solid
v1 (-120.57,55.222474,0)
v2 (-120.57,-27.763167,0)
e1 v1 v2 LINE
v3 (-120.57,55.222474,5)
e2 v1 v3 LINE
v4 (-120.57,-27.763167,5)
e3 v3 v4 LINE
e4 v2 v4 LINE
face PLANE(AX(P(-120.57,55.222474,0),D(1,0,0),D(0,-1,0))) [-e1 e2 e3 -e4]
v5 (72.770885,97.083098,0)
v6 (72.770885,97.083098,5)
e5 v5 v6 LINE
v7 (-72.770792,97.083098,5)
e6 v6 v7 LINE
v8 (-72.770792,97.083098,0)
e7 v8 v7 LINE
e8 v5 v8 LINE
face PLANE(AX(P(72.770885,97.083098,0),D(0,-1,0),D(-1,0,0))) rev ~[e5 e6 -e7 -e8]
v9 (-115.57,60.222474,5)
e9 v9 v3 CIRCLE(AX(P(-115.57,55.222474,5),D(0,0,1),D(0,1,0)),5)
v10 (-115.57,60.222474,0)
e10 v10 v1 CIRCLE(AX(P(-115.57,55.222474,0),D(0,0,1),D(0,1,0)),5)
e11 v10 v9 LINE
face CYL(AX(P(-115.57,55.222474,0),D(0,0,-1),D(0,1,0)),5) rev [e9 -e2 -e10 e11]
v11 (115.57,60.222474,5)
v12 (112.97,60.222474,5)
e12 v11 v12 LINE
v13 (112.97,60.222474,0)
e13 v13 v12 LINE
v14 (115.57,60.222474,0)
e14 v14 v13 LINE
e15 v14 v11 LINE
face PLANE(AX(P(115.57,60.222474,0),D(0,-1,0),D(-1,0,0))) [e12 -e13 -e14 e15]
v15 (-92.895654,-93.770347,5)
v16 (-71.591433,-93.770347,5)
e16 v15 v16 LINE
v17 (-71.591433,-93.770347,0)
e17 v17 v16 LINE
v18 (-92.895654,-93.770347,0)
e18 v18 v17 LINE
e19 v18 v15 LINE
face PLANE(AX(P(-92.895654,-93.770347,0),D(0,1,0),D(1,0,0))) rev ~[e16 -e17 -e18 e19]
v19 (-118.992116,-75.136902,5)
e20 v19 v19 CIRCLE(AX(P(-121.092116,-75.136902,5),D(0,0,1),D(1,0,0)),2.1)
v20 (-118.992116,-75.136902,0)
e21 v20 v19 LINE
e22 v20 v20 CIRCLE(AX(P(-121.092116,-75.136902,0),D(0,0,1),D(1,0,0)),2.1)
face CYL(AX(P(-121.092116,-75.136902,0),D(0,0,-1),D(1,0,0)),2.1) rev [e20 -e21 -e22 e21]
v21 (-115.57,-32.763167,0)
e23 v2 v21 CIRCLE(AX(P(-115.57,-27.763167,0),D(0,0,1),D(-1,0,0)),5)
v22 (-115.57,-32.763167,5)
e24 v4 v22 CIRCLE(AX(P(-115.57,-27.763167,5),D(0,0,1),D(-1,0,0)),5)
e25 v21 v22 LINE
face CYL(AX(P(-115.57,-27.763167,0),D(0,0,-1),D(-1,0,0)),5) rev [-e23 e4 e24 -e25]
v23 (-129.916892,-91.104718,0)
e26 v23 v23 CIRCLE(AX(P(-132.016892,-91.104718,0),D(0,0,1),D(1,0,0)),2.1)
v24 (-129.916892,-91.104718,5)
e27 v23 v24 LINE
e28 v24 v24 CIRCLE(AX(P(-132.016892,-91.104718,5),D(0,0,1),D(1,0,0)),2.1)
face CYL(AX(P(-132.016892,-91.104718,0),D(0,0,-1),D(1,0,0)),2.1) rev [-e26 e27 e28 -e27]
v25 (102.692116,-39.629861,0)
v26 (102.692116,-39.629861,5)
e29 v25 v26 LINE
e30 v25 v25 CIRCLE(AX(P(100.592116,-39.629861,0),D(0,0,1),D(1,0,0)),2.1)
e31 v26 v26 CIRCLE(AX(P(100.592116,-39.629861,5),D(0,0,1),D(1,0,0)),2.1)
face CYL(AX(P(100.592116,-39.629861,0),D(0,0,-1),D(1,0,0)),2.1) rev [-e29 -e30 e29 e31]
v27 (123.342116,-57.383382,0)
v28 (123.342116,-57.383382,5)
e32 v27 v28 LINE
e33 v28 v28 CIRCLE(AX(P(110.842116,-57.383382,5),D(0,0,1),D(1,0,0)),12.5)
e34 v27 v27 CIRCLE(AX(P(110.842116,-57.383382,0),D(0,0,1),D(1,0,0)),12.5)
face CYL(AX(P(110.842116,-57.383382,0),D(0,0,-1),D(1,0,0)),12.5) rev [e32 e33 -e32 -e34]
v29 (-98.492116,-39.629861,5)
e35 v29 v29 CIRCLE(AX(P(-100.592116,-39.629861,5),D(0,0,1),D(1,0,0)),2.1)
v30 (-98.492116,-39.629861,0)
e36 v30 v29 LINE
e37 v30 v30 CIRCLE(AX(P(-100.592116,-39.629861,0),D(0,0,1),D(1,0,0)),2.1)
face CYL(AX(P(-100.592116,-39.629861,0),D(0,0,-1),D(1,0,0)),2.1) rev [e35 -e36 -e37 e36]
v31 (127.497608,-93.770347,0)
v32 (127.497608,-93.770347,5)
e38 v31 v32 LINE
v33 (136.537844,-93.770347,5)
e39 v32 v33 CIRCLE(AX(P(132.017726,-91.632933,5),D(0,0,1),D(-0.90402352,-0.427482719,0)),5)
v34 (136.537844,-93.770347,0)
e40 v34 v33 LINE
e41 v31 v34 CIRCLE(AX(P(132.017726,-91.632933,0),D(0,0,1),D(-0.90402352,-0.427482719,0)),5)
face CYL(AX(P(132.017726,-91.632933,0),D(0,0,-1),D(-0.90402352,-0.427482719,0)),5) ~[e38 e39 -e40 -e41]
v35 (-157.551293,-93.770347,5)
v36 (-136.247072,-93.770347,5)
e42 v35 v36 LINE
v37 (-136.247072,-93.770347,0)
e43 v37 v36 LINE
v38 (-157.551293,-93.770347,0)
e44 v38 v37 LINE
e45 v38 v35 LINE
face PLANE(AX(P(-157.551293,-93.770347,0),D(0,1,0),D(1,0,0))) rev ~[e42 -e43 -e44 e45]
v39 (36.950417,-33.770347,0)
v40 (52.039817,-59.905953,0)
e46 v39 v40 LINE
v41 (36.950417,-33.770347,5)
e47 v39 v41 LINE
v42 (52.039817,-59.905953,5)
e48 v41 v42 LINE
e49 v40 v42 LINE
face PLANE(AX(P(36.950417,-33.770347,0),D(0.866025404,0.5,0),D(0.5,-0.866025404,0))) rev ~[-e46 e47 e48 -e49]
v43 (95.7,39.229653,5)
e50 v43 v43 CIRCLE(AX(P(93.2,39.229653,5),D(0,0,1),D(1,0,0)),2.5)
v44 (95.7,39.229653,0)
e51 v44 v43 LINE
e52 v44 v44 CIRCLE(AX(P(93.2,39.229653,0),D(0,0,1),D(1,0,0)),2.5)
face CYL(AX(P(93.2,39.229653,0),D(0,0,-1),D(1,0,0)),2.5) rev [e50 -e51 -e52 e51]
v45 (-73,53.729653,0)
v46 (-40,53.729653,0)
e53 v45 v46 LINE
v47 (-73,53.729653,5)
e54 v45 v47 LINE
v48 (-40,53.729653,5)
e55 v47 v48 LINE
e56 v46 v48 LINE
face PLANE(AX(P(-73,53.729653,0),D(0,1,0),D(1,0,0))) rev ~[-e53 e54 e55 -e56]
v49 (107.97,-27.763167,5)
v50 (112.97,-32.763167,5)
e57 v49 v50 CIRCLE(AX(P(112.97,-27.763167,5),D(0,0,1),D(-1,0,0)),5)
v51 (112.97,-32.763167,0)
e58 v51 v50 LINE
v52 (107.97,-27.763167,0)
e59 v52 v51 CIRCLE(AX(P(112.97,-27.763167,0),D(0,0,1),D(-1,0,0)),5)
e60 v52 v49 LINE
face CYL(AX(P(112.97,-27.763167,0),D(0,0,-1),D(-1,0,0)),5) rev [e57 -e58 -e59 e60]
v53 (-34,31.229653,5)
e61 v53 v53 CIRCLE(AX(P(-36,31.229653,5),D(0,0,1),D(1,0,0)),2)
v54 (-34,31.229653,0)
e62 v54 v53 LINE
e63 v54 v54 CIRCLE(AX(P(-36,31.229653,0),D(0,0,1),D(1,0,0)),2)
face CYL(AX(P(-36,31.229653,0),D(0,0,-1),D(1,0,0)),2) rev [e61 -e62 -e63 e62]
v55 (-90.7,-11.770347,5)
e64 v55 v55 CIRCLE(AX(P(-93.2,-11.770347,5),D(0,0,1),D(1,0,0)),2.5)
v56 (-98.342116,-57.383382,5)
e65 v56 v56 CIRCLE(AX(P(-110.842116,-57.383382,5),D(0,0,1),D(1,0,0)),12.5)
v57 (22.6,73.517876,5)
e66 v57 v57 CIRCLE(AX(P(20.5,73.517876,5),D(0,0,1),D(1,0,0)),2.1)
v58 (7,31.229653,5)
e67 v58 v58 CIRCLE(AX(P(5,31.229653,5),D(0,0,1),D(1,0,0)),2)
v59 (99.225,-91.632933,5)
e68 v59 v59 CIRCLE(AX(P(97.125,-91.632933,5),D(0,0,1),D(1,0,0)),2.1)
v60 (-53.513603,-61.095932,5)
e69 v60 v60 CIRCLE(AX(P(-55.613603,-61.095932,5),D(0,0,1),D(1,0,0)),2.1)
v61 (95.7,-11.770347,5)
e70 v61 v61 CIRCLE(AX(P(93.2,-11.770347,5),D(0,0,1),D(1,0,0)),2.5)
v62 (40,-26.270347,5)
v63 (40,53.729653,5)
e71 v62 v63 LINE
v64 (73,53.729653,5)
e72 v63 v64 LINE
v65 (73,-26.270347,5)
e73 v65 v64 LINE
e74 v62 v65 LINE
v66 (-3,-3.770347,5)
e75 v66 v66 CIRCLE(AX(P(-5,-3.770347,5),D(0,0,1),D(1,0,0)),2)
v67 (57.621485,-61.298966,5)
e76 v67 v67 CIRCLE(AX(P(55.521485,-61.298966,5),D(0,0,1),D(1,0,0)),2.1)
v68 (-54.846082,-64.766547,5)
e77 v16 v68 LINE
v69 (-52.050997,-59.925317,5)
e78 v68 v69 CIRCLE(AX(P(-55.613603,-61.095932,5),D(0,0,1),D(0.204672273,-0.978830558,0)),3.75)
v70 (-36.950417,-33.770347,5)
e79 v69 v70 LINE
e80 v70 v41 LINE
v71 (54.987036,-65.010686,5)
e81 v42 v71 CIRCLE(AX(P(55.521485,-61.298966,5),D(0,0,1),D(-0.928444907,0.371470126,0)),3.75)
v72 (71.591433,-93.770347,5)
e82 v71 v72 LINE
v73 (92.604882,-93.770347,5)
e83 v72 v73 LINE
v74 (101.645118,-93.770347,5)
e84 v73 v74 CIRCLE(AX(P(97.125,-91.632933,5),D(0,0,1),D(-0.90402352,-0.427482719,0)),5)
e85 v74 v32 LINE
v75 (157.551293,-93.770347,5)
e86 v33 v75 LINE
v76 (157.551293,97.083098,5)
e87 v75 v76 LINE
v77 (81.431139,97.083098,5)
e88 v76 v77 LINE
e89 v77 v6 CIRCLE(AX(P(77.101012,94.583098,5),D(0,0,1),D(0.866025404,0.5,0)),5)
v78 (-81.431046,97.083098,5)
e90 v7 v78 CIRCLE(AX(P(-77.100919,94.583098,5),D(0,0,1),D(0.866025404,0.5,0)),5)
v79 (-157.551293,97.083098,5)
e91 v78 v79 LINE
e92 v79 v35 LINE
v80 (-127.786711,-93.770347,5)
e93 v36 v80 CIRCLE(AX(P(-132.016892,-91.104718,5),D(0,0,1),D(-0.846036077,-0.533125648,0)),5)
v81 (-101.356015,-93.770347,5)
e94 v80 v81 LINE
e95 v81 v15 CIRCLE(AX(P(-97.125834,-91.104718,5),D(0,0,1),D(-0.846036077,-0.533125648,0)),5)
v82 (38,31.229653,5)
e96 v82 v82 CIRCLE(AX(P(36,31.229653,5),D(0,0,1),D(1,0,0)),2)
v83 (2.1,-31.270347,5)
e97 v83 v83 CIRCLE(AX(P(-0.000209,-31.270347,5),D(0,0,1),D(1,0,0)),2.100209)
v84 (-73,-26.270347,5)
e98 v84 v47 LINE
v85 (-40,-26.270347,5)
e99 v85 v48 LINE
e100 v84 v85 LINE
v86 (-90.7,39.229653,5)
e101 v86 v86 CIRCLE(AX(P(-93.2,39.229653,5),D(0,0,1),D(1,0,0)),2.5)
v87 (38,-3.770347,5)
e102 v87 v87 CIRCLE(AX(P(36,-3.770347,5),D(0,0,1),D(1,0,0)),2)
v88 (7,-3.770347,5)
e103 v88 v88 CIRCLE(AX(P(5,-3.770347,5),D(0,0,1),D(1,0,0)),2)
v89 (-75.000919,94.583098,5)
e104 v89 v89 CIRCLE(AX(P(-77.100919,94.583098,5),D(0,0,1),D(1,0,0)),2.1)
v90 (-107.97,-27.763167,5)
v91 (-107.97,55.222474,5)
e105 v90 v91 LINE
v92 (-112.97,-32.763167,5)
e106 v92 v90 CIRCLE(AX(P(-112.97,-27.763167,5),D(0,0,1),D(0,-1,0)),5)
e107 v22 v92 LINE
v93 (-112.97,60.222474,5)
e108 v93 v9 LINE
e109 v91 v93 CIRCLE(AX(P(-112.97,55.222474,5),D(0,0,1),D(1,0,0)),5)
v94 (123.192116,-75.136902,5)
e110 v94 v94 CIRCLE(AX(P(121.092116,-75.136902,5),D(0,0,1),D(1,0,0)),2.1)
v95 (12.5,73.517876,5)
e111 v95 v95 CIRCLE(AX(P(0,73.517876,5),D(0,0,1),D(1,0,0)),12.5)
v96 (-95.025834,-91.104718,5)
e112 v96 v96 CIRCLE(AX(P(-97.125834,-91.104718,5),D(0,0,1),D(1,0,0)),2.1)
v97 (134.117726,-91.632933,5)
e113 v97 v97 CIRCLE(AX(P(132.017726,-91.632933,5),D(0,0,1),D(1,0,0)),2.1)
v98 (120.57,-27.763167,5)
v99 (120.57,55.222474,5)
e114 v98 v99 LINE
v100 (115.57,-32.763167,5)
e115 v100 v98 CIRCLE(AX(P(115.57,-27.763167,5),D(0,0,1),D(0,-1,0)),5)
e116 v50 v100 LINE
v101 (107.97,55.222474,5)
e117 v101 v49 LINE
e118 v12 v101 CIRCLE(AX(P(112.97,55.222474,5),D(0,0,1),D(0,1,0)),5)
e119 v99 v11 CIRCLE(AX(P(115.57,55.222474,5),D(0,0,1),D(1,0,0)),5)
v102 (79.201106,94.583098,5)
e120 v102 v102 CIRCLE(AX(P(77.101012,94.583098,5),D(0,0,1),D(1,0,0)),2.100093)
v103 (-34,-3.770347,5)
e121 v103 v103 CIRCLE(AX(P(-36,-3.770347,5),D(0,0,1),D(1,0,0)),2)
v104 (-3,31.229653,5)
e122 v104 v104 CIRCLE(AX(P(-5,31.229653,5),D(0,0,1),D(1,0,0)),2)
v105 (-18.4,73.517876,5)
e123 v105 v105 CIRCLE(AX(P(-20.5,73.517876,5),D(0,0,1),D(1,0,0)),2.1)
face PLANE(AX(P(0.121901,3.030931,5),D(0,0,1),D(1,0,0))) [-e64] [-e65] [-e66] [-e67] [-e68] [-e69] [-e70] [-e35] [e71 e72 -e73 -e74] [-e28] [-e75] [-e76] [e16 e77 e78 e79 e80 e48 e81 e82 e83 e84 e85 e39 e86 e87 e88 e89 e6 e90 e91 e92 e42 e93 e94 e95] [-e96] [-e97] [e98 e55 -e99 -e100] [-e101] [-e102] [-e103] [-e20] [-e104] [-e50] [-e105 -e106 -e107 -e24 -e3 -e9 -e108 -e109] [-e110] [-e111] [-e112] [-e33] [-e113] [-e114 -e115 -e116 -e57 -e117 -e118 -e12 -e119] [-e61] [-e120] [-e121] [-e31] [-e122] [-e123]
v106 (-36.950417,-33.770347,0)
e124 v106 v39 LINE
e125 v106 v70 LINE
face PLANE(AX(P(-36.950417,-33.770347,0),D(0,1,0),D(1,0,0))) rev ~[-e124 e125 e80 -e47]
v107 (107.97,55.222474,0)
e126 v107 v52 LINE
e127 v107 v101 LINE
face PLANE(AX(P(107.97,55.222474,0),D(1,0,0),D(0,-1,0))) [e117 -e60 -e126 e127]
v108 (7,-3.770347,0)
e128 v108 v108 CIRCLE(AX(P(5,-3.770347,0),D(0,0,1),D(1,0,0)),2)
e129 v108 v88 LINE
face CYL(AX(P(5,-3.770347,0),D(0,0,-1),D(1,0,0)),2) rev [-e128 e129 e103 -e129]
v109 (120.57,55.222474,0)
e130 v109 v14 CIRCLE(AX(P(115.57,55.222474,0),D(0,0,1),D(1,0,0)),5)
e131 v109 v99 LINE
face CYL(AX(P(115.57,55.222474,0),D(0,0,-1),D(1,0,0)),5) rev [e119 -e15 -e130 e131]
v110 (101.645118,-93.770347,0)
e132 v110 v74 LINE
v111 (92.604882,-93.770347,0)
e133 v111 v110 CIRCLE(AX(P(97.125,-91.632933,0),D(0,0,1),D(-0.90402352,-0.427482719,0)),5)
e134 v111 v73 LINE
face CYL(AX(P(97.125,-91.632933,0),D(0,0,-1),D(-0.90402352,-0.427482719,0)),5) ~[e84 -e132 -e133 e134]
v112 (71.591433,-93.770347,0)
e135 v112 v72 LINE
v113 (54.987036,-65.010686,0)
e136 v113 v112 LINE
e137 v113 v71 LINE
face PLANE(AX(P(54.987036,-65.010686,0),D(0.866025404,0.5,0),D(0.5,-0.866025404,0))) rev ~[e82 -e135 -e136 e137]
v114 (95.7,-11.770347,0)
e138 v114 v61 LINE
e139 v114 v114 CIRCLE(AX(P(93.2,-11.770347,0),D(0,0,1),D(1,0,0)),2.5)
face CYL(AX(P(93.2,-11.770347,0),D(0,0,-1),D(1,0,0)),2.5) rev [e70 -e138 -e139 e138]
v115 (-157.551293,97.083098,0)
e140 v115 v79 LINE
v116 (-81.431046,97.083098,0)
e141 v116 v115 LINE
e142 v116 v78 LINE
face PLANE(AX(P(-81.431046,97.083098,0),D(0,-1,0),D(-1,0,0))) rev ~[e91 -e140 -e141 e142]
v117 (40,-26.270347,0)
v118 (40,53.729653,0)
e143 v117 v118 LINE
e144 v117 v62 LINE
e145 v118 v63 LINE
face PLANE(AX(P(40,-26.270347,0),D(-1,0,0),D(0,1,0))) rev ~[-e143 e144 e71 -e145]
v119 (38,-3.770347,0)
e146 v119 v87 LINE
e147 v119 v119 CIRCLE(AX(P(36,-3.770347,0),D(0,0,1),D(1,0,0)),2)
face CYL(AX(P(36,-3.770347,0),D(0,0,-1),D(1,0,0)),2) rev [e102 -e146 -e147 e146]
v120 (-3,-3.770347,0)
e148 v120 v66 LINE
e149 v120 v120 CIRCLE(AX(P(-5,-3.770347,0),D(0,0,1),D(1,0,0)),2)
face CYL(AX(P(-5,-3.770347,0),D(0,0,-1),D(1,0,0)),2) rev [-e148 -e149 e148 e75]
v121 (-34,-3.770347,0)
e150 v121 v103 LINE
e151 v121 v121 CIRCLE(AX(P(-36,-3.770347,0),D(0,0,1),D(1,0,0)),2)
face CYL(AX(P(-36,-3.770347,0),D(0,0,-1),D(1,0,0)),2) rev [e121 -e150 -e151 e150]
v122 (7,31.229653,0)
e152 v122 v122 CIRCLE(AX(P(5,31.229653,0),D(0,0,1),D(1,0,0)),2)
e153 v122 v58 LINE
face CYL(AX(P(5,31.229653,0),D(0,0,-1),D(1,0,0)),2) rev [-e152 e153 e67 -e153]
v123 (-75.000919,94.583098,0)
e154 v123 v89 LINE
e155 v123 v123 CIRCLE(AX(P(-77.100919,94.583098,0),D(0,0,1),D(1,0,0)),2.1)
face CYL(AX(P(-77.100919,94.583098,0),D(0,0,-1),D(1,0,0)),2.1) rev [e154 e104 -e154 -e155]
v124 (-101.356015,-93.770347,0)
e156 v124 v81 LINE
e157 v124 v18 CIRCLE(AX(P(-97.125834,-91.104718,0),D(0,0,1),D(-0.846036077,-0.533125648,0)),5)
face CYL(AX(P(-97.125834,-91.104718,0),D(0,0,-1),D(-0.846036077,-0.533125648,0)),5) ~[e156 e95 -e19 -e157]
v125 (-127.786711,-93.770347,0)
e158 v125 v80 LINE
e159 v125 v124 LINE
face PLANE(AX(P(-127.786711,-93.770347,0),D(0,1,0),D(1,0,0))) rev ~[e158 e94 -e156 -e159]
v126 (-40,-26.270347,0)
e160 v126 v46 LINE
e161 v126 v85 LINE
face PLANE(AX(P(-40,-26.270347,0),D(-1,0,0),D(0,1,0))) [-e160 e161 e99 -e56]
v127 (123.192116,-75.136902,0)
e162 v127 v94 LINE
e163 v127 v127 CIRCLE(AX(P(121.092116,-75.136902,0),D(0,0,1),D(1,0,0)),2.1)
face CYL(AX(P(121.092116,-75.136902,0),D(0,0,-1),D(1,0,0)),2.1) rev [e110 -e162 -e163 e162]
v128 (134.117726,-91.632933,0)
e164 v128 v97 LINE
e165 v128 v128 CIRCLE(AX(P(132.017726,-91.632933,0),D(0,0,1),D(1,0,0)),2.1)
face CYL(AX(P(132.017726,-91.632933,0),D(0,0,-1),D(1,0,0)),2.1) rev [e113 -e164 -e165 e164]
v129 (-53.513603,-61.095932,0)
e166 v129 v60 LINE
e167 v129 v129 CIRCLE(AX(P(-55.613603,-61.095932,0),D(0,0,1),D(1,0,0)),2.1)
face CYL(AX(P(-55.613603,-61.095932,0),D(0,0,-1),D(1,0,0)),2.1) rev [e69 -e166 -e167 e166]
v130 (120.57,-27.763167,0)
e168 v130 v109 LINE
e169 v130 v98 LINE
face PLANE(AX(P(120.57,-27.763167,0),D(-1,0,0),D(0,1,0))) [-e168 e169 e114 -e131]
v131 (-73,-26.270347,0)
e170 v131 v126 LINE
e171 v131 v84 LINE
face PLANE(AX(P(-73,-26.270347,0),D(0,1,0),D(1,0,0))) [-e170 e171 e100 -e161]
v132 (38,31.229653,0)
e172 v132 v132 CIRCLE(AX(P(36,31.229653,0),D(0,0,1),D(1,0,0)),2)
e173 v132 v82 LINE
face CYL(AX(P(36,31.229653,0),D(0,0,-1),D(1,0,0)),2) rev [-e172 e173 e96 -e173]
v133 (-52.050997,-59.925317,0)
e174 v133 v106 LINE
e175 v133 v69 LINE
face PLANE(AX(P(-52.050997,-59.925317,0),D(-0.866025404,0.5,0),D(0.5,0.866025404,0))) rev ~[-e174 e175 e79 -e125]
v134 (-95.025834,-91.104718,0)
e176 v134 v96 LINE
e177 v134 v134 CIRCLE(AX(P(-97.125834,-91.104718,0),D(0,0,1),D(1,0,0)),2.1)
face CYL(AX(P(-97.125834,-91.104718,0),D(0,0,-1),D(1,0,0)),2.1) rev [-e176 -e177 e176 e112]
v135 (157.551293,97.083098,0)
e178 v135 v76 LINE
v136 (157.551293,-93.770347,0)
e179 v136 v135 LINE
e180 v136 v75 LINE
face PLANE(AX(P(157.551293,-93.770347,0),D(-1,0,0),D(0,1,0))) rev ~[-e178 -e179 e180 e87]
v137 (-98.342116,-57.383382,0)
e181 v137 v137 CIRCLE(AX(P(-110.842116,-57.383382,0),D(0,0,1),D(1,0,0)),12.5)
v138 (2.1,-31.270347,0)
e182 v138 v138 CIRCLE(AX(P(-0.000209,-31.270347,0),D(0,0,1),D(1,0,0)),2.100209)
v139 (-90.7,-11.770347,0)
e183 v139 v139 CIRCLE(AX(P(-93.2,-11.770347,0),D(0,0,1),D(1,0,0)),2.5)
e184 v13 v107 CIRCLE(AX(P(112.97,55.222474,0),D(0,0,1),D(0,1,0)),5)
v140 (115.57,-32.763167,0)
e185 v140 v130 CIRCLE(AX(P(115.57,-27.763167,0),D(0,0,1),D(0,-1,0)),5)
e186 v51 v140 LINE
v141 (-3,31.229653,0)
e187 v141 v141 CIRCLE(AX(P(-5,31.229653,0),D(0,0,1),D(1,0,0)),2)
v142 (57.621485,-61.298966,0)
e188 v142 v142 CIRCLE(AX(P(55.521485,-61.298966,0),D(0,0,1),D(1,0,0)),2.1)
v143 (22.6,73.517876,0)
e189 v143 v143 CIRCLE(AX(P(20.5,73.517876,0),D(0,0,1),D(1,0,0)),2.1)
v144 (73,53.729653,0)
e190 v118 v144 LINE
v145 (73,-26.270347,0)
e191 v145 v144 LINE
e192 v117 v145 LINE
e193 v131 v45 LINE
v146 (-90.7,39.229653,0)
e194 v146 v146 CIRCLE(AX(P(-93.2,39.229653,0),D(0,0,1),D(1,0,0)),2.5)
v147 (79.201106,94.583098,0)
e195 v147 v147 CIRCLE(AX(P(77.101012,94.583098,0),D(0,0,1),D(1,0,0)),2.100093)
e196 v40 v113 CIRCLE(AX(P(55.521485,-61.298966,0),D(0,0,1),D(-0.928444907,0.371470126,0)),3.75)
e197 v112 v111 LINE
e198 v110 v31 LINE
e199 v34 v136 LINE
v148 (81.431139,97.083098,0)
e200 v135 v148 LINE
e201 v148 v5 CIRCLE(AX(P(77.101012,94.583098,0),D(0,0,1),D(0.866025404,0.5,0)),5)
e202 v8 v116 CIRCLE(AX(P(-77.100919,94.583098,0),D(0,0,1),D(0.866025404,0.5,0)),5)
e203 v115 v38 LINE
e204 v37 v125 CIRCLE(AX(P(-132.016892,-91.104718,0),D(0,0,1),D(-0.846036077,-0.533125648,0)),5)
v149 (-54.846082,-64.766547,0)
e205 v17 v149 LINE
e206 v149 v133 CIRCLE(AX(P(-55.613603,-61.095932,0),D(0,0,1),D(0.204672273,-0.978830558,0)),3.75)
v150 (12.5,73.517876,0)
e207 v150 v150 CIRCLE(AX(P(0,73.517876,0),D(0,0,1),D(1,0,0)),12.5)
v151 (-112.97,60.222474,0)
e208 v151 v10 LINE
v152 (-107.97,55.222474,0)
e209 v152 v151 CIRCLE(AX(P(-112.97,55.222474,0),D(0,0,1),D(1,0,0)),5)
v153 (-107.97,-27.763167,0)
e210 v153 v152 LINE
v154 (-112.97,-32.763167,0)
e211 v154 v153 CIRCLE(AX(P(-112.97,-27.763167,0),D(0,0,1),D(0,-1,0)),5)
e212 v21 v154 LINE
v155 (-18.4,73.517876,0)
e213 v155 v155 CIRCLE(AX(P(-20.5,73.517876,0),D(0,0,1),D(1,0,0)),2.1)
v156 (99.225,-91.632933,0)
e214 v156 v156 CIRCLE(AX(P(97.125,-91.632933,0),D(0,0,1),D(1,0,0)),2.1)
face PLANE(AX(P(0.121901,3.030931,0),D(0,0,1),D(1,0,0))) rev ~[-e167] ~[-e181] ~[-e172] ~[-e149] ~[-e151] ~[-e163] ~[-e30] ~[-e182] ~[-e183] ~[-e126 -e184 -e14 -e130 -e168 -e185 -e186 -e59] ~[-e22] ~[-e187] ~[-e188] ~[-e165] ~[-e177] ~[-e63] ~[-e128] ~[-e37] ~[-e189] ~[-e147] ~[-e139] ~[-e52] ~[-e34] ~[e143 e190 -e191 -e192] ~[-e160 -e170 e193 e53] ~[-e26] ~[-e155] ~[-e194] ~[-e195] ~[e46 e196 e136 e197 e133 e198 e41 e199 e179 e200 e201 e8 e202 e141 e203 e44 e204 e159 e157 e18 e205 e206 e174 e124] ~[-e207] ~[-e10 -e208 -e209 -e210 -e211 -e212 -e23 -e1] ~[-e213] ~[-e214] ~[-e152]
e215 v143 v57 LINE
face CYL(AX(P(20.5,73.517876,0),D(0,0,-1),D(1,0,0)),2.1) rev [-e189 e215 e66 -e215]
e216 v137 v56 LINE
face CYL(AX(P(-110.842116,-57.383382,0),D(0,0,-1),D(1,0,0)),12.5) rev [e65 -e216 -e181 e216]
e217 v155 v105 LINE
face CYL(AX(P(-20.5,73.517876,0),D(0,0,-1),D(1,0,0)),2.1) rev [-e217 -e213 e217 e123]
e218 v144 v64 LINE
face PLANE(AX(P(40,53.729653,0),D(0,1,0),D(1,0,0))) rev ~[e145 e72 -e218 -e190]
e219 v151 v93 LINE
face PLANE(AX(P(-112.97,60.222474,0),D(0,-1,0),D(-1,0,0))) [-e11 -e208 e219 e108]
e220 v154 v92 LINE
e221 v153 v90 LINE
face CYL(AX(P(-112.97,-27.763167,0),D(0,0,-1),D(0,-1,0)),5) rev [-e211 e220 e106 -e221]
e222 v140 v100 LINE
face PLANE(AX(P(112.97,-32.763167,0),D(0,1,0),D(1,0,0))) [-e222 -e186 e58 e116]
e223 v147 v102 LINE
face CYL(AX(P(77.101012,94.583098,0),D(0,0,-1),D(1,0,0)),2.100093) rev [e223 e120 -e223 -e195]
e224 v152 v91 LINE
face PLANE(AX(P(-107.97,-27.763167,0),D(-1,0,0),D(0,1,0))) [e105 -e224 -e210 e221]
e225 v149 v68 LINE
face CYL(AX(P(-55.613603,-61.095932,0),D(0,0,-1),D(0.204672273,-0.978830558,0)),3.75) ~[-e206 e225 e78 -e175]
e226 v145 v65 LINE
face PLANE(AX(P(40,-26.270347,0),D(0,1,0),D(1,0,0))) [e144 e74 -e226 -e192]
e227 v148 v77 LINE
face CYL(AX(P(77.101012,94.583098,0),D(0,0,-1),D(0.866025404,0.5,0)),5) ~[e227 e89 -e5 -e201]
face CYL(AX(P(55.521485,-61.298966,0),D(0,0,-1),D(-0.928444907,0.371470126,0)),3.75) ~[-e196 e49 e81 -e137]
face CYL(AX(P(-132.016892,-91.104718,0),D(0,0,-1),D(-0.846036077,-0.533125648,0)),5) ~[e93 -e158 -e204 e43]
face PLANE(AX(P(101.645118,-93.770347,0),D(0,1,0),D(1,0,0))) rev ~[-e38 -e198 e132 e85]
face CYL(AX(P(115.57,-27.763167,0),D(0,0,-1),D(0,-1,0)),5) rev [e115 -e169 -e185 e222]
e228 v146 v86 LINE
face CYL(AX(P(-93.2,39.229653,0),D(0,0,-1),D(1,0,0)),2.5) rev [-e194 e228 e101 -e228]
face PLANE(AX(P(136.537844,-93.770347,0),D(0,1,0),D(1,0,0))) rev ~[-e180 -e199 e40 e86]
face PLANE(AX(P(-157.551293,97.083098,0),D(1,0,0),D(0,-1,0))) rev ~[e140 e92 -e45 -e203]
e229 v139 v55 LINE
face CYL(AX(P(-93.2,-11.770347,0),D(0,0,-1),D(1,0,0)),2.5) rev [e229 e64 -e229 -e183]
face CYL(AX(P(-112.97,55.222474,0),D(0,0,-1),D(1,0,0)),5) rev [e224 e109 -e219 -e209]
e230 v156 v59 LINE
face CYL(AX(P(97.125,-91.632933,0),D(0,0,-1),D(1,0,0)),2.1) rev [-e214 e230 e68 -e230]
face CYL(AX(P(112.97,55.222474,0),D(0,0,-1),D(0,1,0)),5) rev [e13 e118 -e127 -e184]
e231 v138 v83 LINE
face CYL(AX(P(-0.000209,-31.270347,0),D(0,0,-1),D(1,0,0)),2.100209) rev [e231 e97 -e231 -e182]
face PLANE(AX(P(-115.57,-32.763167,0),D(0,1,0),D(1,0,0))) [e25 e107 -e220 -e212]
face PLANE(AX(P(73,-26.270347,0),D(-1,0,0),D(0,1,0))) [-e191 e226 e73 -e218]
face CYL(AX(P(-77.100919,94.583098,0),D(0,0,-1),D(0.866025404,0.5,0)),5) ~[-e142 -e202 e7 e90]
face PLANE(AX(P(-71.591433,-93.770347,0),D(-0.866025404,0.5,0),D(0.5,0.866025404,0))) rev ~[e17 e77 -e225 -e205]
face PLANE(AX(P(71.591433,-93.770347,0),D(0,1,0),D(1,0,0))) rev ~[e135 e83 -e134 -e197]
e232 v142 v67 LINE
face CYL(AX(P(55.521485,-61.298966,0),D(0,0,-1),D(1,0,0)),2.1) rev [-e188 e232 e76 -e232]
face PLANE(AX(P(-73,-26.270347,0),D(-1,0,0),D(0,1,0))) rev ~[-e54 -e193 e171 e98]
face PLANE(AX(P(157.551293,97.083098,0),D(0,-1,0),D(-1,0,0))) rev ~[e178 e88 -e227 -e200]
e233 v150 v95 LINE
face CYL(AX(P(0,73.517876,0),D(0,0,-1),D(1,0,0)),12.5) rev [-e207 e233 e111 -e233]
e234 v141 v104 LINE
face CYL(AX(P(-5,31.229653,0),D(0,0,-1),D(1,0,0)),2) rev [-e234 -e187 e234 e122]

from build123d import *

# Parameters (mm, degrees)
SKETCH1_R           = 2.1
SKETCH1_R_2         = 12.5
SKETCH1_R_3         = 2
SKETCH1_R_4         = 2.5
SKETCH1_R_5         = 2.100093489
SKETCH1_R_6         = 2.100208614
SKETCH1_W           = 33
SKETCH1_H           = 80
BOSS_EXTRUDE1_DEPTH = 5


with BuildPart() as part:
    # Sketch1 → Boss-Extrude1 (new body)
    with BuildSketch(Plane.XY):
        with BuildLine():
            Line((101.645117601, -93.770346549), (127.497608455, -93.770346549))
            ThreePointArc((127.497608455, -93.770346549), (132.017726056, -96.632932955), (136.537843658, -93.770346549))
            Line((136.537843658, -93.770346549), (157.551292677, -93.770346549))
            Line((157.551292677, -93.770346549), (157.551292677, 97.083097938))
            Line((157.551292677, 97.083097938), (81.43113923, 97.083097938))
            ThreePointArc((81.43113923, 97.083097938), (77.101012211, 99.583097938), (72.770885192, 97.083097938))
            Line((72.770885192, 97.083097938), (36.650918722, 97.083097938))
            Line((36.650918722, 97.083097938), (-36.650918722, 97.083097938))
            Line((-36.650918722, 97.083097938), (-72.770791704, 97.083097938))
            ThreePointArc((-72.770791704, 97.083097938), (-77.100918722, 99.583097938), (-81.431045741, 97.083097938))
            Line((-81.431045741, 97.083097938), (-157.551292677, 97.083097938))
            Line((-157.551292677, 97.083097938), (-157.551292677, -93.770346549))
            Line((-157.551292677, -93.770346549), (-136.247071986, -93.770346549))
            ThreePointArc((-136.247071986, -93.770346549), (-132.0168916, -96.104718311), (-127.786711214, -93.770346549))
            Line((-127.786711214, -93.770346549), (-101.356014842, -93.770346549))
            ThreePointArc((-101.356014842, -93.770346549), (-97.125834456, -96.104718311), (-92.89565407, -93.770346549))
            Line((-92.89565407, -93.770346549), (-71.59143338, -93.770346549))
            Line((-71.59143338, -93.770346549), (-54.846081626, -64.766546521))
            ThreePointArc((-54.846081626, -64.766546521), (-52.366007385, -62.970931929), (-52.050996654, -59.925317338))
            Line((-52.050996654, -59.925317338), (-36.950417228, -33.770346549))
            Line((-36.950417228, -33.770346549), (36.950417228, -33.770346549))
            Line((36.950417228, -33.770346549), (52.039816857, -59.905953361))
            ThreePointArc((52.039816857, -59.905953361), (52.273889994, -63.173966334), (54.987035679, -65.010686103))
            Line((54.987035679, -65.010686103), (71.59143338, -93.770346549))
            Line((71.59143338, -93.770346549), (92.604882399, -93.770346549))
            ThreePointArc((92.604882399, -93.770346549), (97.125, -96.632932955), (101.645117601, -93.770346549))
        make_face()
        with Locations((20.5, 73.517875823)):
            Circle(SKETCH1_R, mode=Mode.SUBTRACT)
        with Locations((-20.5, 73.517875823)):
            Circle(SKETCH1_R, mode=Mode.SUBTRACT)
        with Locations((0, 73.517875823)):
            Circle(SKETCH1_R_2, mode=Mode.SUBTRACT)
        with Locations((36, 31.229653451)):
            Circle(SKETCH1_R_3, mode=Mode.SUBTRACT)
        with Locations((-5, -3.770346549)):
            Circle(SKETCH1_R_3, mode=Mode.SUBTRACT)
        with Locations((5, -3.770346549)):
            Circle(SKETCH1_R_3, mode=Mode.SUBTRACT)
        with Locations((36, -3.770346549)):
            Circle(SKETCH1_R_3, mode=Mode.SUBTRACT)
        with Locations((-36, 31.229653451)):
            Circle(SKETCH1_R_3, mode=Mode.SUBTRACT)
        with Locations((-5, 31.229653451)):
            Circle(SKETCH1_R_3, mode=Mode.SUBTRACT)
        with Locations((5, 31.229653451)):
            Circle(SKETCH1_R_3, mode=Mode.SUBTRACT)
        with Locations((-36, -3.770346549)):
            Circle(SKETCH1_R_3, mode=Mode.SUBTRACT)
        with Locations((93.2, 39.229653451)):
            Circle(SKETCH1_R_4, mode=Mode.SUBTRACT)
        with Locations((-93.2, 39.229653451)):
            Circle(SKETCH1_R_4, mode=Mode.SUBTRACT)
        with Locations((-93.2, -11.770346549)):
            Circle(SKETCH1_R_4, mode=Mode.SUBTRACT)
        with Locations((93.2, -11.770346549)):
            Circle(SKETCH1_R_4, mode=Mode.SUBTRACT)
        with Locations((-77.100918722, 94.583097938)):
            Circle(SKETCH1_R, mode=Mode.SUBTRACT)
        with Locations((-97.125834456, -91.104718311)):
            Circle(SKETCH1_R, mode=Mode.SUBTRACT)
        with Locations((-55.613602649, -61.095931929)):
            Circle(SKETCH1_R, mode=Mode.SUBTRACT)
        with Locations((77.101012211, 94.583097938)):
            Circle(SKETCH1_R_5, mode=Mode.SUBTRACT)
        with Locations((97.125, -91.632932955)):
            Circle(SKETCH1_R, mode=Mode.SUBTRACT)
        with Locations((55.521485258, -61.298966334)):
            Circle(SKETCH1_R, mode=Mode.SUBTRACT)
        with Locations((-0.000208614, -31.270346549)):
            Circle(SKETCH1_R_6, mode=Mode.SUBTRACT)
        with Locations((-100.592116007, -39.629860895)):
            Circle(SKETCH1_R, mode=Mode.SUBTRACT)
        with Locations((-121.092116007, -75.13690245)):
            Circle(SKETCH1_R, mode=Mode.SUBTRACT)
        with Locations((-110.842116007, -57.383381672)):
            Circle(SKETCH1_R_2, mode=Mode.SUBTRACT)
        with Locations((-132.0168916, -91.104718311)):
            Circle(SKETCH1_R, mode=Mode.SUBTRACT)
        with Locations((132.017726056, -91.632932955)):
            Circle(SKETCH1_R, mode=Mode.SUBTRACT)
        with Locations((121.092116007, -75.13690245)):
            Circle(SKETCH1_R, mode=Mode.SUBTRACT)
        with Locations((100.592116007, -39.629860895)):
            Circle(SKETCH1_R, mode=Mode.SUBTRACT)
        with Locations((110.842116007, -57.383381672)):
            Circle(SKETCH1_R_2, mode=Mode.SUBTRACT)
        with Locations((-56.5, 13.729653451)):
            Rectangle(SKETCH1_W, SKETCH1_H, mode=Mode.SUBTRACT)
        with Locations((56.5, 13.729653451)):
            Rectangle(SKETCH1_W, SKETCH1_H, mode=Mode.SUBTRACT)
        with BuildLine():
            Line((-112.97, 60.222473641), (-115.57, 60.222473641))
            ThreePointArc((-115.57, 60.222473641), (-119.105533906, 58.758007547), (-120.57, 55.222473641))
            Line((-120.57, 55.222473641), (-120.57, -27.763166739))
            ThreePointArc((-120.57, -27.763166739), (-119.105533906, -31.298700645), (-115.57, -32.763166739))
            Line((-115.57, -32.763166739), (-112.97, -32.763166739))
            ThreePointArc((-112.97, -32.763166739), (-109.434466094, -31.298700645), (-107.97, -27.763166739))
            Line((-107.97, -27.763166739), (-107.97, 55.222473641))
            ThreePointArc((-107.97, 55.222473641), (-109.434466094, 58.758007547), (-112.97, 60.222473641))
        make_face(mode=Mode.SUBTRACT)
        with BuildLine():
            Line((112.97, -32.763166739), (115.57, -32.763166739))
            ThreePointArc((115.57, -32.763166739), (119.105533906, -31.298700645), (120.57, -27.763166739))
            Line((120.57, -27.763166739), (120.57, 55.222473641))
            ThreePointArc((120.57, 55.222473641), (119.105533906, 58.758007547), (115.57, 60.222473641))
            Line((115.57, 60.222473641), (112.97, 60.222473641))
            ThreePointArc((112.97, 60.222473641), (109.434466094, 58.758007547), (107.97, 55.222473641))
            Line((107.97, 55.222473641), (107.97, -27.763166739))
            ThreePointArc((107.97, -27.763166739), (109.434466094, -31.298700645), (112.97, -32.763166739))
        make_face(mode=Mode.SUBTRACT)
    extrude(amount=BOSS_EXTRUDE1_DEPTH)


solid = part.part
